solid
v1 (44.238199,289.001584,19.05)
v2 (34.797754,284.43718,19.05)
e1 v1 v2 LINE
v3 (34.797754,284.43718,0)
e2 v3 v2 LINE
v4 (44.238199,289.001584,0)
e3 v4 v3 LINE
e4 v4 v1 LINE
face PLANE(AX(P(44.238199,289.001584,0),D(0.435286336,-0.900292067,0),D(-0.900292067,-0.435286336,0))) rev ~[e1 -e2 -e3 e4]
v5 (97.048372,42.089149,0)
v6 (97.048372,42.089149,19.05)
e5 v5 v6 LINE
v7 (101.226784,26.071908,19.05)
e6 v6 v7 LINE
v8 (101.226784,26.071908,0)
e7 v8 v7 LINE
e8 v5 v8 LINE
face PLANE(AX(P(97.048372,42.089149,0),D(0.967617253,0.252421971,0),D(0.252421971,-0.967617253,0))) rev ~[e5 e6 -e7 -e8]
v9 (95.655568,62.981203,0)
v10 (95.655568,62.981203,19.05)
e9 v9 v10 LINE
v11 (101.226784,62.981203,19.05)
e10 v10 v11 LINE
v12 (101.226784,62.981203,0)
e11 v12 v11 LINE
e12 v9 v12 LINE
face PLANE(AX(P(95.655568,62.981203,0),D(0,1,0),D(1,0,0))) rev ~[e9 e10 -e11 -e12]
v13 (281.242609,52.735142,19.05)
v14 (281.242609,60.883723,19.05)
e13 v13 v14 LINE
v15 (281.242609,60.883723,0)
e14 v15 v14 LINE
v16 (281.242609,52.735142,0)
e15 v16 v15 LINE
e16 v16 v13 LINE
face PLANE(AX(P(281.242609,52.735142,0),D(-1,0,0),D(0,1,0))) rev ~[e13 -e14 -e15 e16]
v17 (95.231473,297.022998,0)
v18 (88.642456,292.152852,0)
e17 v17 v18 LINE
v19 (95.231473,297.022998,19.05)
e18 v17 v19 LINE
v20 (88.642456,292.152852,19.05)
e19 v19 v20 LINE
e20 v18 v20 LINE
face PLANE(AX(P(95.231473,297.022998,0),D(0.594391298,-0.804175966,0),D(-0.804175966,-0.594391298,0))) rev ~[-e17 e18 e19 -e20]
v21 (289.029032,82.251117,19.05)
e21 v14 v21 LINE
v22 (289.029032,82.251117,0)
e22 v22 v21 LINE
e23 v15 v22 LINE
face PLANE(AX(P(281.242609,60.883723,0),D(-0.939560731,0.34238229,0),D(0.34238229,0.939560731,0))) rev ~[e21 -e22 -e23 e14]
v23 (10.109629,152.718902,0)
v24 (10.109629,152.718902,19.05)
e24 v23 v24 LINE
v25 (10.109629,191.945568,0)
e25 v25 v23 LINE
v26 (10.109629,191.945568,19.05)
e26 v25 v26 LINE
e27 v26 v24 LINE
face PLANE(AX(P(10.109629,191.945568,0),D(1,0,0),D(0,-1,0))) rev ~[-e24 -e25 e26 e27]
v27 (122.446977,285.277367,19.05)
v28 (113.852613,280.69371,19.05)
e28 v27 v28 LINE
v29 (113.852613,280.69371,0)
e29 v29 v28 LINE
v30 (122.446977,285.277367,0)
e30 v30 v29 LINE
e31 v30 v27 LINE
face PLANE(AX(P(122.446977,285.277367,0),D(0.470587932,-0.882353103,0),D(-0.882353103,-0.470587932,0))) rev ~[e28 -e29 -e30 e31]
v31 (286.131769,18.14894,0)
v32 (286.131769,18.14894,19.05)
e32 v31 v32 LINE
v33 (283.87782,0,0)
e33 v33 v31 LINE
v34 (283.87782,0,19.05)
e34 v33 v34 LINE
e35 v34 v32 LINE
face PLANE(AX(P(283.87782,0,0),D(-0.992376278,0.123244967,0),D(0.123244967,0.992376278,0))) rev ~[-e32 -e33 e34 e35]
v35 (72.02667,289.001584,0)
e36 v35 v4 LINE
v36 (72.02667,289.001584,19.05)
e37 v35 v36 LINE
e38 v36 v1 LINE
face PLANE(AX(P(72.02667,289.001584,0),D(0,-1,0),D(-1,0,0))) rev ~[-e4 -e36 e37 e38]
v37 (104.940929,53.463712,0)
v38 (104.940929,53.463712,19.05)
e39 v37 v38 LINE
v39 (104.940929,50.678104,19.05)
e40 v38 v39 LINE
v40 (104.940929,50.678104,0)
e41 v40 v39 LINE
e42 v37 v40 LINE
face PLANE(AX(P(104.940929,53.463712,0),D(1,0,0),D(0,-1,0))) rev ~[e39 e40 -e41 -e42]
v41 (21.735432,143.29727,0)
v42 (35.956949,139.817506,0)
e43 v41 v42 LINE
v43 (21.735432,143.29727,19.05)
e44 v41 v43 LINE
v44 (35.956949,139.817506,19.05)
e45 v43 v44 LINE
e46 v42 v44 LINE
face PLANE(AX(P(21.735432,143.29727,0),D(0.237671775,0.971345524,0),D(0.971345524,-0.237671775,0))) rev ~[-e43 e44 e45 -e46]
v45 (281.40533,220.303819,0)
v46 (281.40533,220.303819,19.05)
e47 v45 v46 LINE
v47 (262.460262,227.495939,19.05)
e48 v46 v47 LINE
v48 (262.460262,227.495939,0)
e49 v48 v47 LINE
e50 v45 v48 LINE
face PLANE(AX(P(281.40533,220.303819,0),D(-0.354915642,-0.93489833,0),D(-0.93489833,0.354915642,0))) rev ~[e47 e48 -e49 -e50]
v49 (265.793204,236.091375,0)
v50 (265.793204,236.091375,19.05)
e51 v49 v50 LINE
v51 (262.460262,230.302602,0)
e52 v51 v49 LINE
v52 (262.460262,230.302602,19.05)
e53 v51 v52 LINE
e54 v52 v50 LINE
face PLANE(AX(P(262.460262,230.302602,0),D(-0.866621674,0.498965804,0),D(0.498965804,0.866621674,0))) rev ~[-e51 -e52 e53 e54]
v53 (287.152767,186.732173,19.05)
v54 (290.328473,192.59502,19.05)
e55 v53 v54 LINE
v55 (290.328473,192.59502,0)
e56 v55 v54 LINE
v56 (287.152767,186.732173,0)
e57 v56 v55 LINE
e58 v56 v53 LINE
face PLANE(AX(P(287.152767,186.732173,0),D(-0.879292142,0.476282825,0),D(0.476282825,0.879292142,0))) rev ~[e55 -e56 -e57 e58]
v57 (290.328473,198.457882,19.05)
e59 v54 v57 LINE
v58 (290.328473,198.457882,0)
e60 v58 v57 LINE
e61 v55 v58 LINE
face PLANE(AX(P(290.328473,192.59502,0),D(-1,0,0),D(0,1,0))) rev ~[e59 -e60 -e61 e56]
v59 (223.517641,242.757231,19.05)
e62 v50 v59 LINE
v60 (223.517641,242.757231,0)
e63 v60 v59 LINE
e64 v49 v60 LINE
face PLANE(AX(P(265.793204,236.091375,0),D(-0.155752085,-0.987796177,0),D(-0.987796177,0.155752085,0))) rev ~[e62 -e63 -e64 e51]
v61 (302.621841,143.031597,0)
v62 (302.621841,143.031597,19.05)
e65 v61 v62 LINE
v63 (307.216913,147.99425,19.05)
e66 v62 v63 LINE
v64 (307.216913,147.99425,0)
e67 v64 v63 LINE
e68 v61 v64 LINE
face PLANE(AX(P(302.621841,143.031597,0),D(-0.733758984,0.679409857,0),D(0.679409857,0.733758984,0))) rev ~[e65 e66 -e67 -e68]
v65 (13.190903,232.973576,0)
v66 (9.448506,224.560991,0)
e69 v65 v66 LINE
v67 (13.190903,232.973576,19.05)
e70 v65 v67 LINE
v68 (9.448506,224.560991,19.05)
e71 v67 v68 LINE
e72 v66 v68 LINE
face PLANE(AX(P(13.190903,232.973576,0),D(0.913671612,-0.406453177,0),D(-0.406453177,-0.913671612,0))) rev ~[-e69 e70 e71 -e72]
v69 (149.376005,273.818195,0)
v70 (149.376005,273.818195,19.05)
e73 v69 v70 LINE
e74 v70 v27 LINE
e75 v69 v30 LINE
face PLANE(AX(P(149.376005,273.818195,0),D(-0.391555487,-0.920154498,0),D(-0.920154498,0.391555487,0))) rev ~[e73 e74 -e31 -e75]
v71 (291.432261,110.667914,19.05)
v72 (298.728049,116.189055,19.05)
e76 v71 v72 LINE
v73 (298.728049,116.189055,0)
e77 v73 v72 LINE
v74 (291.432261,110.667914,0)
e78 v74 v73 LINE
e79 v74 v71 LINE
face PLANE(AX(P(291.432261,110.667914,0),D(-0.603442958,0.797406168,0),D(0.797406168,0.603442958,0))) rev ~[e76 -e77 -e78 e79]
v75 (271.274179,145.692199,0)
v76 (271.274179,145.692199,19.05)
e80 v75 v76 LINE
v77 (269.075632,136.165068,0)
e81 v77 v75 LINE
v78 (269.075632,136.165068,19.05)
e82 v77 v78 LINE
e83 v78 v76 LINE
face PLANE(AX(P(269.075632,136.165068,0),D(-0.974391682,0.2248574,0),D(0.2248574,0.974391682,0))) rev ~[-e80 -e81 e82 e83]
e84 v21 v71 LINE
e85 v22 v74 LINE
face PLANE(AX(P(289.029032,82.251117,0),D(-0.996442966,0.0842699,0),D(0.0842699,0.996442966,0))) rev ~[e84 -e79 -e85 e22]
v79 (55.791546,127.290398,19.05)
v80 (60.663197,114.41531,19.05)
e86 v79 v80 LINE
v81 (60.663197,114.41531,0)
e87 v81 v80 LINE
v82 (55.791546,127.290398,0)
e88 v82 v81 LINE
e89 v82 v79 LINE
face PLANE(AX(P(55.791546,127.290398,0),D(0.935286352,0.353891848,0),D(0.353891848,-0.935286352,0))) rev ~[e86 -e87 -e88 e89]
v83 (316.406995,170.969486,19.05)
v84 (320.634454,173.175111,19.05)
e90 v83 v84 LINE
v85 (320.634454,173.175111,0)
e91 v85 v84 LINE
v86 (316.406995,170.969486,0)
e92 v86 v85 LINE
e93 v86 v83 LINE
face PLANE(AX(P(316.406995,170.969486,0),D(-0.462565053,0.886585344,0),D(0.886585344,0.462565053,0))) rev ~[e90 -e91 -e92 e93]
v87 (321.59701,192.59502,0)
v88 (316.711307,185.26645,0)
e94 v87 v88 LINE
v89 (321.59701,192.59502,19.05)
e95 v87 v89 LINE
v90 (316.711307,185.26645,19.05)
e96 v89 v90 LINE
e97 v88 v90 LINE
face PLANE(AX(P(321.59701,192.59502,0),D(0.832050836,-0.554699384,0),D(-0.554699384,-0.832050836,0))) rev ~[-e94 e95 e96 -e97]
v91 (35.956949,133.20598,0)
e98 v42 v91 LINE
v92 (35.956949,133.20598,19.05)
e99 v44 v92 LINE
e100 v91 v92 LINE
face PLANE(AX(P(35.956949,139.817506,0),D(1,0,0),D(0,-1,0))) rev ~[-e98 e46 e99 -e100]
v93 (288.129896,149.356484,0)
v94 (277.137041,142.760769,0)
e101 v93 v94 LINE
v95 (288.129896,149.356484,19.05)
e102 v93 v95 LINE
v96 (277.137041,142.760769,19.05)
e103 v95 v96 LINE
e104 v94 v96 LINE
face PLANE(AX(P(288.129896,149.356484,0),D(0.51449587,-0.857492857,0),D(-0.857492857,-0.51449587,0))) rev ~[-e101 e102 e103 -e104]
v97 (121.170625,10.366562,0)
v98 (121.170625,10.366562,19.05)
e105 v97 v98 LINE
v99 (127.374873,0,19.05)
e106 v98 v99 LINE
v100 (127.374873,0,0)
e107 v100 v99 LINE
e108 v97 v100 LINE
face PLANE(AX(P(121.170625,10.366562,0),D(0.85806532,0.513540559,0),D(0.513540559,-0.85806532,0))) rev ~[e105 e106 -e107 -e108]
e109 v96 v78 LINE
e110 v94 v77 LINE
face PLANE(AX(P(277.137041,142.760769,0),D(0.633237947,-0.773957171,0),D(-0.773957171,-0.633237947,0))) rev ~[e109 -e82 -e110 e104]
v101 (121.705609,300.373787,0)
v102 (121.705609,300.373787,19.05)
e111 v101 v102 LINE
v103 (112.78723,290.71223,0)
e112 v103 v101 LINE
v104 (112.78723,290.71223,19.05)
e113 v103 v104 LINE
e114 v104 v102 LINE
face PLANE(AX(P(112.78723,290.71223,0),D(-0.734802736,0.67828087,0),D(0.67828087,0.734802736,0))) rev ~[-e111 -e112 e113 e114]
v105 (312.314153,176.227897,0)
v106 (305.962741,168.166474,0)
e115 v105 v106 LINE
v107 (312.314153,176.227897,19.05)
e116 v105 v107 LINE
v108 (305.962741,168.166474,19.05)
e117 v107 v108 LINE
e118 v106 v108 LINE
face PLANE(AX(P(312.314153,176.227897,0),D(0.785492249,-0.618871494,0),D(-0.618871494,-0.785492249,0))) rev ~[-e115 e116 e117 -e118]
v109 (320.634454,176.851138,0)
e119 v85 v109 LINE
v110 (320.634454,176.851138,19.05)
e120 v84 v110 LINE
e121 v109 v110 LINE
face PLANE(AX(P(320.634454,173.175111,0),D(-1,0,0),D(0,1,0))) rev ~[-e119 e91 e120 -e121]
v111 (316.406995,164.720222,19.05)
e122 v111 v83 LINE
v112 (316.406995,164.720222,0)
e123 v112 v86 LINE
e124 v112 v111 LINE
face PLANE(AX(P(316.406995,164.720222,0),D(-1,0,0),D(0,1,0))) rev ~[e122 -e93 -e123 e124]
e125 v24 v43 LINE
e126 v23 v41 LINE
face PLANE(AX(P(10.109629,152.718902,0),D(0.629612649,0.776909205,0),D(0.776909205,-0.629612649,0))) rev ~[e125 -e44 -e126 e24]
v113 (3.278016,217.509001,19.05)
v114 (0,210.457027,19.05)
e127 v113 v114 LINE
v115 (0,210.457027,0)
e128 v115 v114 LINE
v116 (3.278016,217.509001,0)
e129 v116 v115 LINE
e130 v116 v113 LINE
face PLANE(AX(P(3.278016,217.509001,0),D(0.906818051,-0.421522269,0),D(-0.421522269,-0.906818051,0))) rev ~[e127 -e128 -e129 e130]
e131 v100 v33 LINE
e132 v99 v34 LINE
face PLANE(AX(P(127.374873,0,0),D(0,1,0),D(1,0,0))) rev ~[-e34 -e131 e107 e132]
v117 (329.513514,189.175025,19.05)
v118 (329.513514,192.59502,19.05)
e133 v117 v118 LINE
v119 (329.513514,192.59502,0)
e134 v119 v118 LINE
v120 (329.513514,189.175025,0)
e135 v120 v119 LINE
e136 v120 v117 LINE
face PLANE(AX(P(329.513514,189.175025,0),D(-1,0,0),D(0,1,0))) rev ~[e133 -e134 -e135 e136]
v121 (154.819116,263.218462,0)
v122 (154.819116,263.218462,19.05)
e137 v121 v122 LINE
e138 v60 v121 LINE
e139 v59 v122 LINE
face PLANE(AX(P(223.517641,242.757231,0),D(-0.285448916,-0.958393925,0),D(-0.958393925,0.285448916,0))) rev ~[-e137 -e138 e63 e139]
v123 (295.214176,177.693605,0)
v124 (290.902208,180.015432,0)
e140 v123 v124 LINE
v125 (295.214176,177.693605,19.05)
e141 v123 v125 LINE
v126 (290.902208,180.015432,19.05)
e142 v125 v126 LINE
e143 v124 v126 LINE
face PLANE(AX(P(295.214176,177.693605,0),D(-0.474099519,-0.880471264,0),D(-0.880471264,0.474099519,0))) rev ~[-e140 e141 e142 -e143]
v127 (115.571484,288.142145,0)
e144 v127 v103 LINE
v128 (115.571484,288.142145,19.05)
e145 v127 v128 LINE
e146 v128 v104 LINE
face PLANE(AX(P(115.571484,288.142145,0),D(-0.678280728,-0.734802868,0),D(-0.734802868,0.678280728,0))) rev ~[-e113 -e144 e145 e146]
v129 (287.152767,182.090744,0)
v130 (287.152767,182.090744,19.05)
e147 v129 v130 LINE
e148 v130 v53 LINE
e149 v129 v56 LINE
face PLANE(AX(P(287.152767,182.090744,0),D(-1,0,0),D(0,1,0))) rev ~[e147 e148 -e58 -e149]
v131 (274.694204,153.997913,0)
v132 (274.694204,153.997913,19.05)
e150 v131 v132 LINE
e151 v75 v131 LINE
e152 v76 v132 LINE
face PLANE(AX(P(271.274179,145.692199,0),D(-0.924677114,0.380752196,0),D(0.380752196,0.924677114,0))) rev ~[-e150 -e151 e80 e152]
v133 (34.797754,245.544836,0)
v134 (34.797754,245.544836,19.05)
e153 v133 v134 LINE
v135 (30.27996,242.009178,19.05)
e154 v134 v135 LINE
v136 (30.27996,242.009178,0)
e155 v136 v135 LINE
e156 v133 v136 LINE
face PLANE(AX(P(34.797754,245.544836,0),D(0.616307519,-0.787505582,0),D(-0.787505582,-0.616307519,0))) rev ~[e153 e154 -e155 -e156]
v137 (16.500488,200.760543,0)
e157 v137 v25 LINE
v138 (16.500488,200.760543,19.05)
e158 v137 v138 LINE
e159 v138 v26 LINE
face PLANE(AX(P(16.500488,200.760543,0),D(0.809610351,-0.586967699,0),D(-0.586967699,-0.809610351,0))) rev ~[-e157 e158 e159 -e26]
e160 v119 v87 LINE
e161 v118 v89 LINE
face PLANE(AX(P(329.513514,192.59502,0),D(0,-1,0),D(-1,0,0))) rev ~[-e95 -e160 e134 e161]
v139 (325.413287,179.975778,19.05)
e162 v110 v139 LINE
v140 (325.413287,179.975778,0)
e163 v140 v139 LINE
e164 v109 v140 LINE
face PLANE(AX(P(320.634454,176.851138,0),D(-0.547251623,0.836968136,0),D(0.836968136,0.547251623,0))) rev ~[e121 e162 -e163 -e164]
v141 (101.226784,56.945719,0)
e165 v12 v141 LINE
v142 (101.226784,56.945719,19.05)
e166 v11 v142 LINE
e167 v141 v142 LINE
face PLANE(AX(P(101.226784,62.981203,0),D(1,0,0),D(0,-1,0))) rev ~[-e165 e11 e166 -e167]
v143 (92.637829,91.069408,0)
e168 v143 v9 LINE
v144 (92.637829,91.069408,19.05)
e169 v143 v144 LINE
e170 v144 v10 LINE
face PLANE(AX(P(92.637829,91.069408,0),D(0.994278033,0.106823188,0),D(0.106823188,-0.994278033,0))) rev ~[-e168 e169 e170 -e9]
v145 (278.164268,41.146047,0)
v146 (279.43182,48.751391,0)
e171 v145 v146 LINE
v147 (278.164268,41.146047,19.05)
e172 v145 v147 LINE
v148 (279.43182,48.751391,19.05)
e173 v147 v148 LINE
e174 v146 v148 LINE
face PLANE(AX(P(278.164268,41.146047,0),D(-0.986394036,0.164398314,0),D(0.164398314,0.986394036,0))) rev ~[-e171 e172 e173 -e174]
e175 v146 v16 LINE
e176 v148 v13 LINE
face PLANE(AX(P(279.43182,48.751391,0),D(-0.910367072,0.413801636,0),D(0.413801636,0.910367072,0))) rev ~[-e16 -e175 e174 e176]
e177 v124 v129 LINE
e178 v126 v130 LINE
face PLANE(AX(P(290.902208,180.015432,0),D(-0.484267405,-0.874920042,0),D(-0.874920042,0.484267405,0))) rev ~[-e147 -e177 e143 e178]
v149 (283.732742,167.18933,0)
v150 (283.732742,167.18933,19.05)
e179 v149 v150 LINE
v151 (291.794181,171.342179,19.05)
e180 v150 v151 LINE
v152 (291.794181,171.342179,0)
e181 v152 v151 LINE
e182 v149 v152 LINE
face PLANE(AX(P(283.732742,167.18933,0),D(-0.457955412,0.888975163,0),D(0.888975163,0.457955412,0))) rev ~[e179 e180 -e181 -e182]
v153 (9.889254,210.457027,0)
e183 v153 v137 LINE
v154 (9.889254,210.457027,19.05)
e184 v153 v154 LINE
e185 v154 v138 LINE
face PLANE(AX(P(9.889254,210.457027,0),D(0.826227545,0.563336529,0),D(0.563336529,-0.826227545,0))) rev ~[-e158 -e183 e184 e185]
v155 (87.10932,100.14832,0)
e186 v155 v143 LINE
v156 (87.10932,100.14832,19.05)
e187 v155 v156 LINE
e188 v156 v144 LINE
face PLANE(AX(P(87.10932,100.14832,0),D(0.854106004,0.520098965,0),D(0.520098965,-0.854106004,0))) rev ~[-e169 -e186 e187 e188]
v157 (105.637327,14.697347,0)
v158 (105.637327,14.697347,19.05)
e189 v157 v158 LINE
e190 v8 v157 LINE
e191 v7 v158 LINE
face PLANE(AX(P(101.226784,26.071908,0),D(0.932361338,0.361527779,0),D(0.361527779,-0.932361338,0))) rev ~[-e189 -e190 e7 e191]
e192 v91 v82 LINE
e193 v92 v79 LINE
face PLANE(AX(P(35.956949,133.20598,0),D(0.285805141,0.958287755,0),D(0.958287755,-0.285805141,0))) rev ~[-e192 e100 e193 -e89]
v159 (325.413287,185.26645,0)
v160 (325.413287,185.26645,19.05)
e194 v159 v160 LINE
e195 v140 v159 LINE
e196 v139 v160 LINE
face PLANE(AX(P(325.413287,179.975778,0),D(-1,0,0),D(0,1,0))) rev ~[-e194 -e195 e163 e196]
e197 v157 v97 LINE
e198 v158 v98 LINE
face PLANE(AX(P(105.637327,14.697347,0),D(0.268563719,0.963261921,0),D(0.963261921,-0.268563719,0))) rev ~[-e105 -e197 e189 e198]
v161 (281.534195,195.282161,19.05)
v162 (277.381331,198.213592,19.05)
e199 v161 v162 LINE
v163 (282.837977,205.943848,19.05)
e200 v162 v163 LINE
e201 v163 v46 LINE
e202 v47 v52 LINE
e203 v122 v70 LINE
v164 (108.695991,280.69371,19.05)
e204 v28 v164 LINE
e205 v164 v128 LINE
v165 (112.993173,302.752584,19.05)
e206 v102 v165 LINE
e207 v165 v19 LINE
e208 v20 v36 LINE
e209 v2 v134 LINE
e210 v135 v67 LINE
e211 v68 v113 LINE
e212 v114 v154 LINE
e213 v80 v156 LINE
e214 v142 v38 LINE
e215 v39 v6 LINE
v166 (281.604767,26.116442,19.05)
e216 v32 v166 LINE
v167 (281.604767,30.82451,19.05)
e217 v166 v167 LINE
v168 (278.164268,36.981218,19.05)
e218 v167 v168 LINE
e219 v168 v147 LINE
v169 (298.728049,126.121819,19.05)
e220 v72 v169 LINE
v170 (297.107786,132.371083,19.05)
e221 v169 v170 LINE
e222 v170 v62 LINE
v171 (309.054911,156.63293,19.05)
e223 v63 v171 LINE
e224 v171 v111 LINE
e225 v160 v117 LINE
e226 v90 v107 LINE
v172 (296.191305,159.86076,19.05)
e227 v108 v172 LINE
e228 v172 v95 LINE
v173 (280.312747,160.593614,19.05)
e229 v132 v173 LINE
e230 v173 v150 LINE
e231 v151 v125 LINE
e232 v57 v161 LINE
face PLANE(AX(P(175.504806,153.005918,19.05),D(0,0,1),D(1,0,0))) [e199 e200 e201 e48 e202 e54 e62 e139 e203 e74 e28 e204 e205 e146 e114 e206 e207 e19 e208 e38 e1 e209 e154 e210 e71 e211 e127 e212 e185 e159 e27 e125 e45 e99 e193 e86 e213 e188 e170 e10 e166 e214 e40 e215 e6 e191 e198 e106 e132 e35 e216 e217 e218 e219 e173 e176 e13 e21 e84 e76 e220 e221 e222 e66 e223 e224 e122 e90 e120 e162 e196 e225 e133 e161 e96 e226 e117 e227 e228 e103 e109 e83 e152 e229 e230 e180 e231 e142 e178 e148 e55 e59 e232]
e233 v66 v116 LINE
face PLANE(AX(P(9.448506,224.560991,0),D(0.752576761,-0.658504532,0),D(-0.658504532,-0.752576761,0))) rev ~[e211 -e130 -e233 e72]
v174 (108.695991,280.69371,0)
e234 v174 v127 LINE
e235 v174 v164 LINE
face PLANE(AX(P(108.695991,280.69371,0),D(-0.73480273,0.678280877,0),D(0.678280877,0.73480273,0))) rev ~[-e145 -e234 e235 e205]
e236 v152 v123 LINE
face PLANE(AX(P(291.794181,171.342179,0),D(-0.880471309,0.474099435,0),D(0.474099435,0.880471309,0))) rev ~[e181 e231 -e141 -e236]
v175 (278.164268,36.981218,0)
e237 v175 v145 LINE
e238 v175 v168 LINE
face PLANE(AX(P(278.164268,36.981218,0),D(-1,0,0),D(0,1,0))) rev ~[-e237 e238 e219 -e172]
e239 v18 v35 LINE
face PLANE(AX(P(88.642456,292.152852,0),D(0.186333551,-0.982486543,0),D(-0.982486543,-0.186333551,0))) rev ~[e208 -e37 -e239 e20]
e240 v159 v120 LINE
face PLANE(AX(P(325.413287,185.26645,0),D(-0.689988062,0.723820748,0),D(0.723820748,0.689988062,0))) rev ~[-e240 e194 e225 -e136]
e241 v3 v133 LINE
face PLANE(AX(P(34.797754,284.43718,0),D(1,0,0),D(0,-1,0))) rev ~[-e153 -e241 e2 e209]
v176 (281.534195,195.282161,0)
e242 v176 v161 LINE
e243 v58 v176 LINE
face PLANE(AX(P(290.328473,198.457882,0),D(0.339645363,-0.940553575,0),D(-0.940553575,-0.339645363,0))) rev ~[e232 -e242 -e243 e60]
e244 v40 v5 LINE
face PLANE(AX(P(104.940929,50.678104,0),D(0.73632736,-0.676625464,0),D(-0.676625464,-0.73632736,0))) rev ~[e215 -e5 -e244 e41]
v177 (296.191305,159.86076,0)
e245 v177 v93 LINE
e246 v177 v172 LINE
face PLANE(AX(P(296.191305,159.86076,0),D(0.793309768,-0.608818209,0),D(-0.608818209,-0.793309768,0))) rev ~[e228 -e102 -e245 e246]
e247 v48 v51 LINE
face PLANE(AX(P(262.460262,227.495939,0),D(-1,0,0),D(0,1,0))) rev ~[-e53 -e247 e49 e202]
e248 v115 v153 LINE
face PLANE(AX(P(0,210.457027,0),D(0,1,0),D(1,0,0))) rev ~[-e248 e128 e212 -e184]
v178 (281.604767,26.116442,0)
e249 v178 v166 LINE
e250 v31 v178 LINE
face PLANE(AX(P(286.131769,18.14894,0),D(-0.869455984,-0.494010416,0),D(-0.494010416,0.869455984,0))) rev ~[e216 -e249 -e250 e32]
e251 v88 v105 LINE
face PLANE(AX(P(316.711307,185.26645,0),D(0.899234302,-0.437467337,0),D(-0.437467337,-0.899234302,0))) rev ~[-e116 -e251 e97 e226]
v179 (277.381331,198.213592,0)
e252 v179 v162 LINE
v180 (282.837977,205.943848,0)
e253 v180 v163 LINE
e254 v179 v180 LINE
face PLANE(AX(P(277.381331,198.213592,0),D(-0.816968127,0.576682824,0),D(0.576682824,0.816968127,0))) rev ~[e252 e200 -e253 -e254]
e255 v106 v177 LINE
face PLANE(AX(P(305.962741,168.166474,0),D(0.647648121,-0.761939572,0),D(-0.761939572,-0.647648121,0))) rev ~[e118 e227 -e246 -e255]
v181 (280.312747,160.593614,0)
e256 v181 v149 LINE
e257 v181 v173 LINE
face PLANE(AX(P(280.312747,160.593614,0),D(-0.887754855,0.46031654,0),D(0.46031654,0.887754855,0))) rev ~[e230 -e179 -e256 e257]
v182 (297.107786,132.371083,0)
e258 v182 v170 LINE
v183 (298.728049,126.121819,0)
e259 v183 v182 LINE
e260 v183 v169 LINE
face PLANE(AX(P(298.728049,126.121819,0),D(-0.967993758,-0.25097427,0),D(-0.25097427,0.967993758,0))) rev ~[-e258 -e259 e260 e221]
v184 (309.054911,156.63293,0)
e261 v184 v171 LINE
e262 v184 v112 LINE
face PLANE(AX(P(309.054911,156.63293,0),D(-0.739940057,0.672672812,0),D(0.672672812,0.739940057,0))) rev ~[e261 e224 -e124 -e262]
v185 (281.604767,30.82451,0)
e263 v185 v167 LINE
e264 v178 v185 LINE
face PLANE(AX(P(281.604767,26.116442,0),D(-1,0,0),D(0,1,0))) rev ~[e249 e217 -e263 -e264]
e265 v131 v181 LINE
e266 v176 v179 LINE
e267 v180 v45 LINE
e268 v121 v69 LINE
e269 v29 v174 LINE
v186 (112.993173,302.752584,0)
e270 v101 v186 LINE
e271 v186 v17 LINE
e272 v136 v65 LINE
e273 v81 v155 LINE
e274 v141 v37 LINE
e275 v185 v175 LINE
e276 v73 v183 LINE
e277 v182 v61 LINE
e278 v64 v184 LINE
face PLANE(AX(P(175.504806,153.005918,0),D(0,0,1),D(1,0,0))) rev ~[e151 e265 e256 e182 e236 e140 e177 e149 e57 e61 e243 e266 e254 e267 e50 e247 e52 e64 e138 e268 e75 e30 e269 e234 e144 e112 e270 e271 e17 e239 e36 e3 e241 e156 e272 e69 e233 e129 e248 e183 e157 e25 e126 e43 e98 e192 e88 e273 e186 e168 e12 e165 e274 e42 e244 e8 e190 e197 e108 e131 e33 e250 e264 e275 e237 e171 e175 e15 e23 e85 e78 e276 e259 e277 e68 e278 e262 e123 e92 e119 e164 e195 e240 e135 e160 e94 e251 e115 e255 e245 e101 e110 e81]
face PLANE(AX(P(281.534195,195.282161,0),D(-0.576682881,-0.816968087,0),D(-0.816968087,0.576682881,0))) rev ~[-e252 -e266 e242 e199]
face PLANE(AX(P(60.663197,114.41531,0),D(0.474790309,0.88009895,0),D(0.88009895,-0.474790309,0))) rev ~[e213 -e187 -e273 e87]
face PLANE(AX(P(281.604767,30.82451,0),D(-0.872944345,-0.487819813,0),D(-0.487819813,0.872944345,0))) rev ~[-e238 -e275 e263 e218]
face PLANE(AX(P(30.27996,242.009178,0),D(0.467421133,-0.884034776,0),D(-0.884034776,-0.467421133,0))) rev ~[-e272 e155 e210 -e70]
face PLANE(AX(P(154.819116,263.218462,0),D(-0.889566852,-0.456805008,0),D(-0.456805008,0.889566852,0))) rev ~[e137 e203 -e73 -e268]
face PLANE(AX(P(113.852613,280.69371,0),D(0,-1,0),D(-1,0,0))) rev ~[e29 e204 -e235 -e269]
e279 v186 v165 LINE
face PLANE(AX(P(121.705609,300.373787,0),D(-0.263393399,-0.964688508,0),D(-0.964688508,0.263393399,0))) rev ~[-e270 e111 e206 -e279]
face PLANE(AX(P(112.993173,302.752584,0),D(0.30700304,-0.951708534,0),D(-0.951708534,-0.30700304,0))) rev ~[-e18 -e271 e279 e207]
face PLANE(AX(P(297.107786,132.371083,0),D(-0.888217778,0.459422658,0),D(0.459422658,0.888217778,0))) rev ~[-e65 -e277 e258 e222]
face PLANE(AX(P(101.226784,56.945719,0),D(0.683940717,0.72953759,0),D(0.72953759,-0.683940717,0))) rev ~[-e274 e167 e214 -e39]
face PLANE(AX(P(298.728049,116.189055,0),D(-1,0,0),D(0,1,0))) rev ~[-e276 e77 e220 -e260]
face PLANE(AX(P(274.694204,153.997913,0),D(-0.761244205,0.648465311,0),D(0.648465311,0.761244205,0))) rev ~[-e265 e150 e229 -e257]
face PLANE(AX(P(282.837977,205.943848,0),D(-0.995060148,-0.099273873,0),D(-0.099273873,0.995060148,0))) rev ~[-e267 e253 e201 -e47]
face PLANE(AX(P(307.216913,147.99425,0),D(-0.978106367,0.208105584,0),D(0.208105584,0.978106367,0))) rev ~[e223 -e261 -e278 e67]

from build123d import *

# Parameters (mm, degrees)
F1_DEPTH = 19.05


with BuildPart() as f1:
    # F0 (on Top) → F1 (new body)
    with BuildSketch(Plane.XY):
        Polygon((127.374873, 0), (130.079165, 0), (283.87782, 0), (286.131769, 18.14894), (281.604767, 26.116442), (281.604767, 30.82451), (278.164268, 36.981218), (278.164268, 41.146047), (279.43182, 48.751391), (281.242609, 52.735142), (281.242609, 60.883723), (289.029032, 82.251117), (291.432261, 110.667914), (298.728049, 116.189055), (298.728049, 126.121819), (297.107786, 132.371083), (302.621841, 143.031597), (307.216913, 147.99425), (309.054911, 156.63293), (316.406995, 164.720222), (316.406995, 170.969486), (320.634454, 173.175111), (320.634454, 176.851138), (325.413287, 179.975778), (325.413287, 185.26645), (329.513514, 189.175025), (329.513514, 192.59502), (321.59701, 192.59502), (316.711307, 185.26645), (312.314153, 176.227897), (305.962741, 168.166474), (296.191305, 159.86076), (288.129896, 149.356484), (277.137041, 142.760769), (269.075632, 136.165068), (271.274179, 145.692199), (274.694204, 153.997913), (280.312747, 160.593614), (283.732742, 167.18933), (291.794181, 171.342179), (295.214176, 177.693605), (290.902208, 180.015432), (287.152767, 182.090744), (287.152767, 186.732173), (290.328473, 192.59502), (290.328473, 198.457882), (281.534195, 195.282161), (277.381331, 198.213592), (282.837977, 205.943848), (281.40533, 220.303819), (262.460262, 227.495939), (262.460262, 230.302602), (265.793204, 236.091375), (223.517641, 242.757231), (154.819116, 263.218462), (149.376005, 273.818195), (122.446977, 285.277367), (113.852613, 280.69371), (108.695991, 280.69371), (115.571484, 288.142145), (112.78723, 290.71223), (121.705609, 300.373787), (112.993173, 302.752584), (95.231473, 297.022998), (88.642456, 292.152852), (72.02667, 289.001584), (44.238199, 289.001584), (34.797754, 284.43718), (34.797754, 245.544836), (30.27996, 242.009178), (13.190903, 232.973576), (9.448506, 224.560991), (3.278016, 217.509001), (0, 210.457027), (9.889254, 210.457027), (16.500488, 200.760543), (10.109629, 191.945568), (10.109629, 152.718902), (21.735432, 143.29727), (35.956949, 139.817506), (35.956949, 133.20598), (55.791546, 127.290398), (60.663197, 114.41531), (87.10932, 100.14832), (92.637829, 91.069408), (95.655568, 62.981203), (101.226784, 62.981203), (101.226784, 56.945719), (104.940929, 53.463712), (104.940929, 50.678104), (97.048372, 42.089149), (101.226784, 26.071908), (105.637327, 14.697347), (121.170625, 10.366562), align=None)
    extrude(amount=F1_DEPTH)


solid = f1.part
